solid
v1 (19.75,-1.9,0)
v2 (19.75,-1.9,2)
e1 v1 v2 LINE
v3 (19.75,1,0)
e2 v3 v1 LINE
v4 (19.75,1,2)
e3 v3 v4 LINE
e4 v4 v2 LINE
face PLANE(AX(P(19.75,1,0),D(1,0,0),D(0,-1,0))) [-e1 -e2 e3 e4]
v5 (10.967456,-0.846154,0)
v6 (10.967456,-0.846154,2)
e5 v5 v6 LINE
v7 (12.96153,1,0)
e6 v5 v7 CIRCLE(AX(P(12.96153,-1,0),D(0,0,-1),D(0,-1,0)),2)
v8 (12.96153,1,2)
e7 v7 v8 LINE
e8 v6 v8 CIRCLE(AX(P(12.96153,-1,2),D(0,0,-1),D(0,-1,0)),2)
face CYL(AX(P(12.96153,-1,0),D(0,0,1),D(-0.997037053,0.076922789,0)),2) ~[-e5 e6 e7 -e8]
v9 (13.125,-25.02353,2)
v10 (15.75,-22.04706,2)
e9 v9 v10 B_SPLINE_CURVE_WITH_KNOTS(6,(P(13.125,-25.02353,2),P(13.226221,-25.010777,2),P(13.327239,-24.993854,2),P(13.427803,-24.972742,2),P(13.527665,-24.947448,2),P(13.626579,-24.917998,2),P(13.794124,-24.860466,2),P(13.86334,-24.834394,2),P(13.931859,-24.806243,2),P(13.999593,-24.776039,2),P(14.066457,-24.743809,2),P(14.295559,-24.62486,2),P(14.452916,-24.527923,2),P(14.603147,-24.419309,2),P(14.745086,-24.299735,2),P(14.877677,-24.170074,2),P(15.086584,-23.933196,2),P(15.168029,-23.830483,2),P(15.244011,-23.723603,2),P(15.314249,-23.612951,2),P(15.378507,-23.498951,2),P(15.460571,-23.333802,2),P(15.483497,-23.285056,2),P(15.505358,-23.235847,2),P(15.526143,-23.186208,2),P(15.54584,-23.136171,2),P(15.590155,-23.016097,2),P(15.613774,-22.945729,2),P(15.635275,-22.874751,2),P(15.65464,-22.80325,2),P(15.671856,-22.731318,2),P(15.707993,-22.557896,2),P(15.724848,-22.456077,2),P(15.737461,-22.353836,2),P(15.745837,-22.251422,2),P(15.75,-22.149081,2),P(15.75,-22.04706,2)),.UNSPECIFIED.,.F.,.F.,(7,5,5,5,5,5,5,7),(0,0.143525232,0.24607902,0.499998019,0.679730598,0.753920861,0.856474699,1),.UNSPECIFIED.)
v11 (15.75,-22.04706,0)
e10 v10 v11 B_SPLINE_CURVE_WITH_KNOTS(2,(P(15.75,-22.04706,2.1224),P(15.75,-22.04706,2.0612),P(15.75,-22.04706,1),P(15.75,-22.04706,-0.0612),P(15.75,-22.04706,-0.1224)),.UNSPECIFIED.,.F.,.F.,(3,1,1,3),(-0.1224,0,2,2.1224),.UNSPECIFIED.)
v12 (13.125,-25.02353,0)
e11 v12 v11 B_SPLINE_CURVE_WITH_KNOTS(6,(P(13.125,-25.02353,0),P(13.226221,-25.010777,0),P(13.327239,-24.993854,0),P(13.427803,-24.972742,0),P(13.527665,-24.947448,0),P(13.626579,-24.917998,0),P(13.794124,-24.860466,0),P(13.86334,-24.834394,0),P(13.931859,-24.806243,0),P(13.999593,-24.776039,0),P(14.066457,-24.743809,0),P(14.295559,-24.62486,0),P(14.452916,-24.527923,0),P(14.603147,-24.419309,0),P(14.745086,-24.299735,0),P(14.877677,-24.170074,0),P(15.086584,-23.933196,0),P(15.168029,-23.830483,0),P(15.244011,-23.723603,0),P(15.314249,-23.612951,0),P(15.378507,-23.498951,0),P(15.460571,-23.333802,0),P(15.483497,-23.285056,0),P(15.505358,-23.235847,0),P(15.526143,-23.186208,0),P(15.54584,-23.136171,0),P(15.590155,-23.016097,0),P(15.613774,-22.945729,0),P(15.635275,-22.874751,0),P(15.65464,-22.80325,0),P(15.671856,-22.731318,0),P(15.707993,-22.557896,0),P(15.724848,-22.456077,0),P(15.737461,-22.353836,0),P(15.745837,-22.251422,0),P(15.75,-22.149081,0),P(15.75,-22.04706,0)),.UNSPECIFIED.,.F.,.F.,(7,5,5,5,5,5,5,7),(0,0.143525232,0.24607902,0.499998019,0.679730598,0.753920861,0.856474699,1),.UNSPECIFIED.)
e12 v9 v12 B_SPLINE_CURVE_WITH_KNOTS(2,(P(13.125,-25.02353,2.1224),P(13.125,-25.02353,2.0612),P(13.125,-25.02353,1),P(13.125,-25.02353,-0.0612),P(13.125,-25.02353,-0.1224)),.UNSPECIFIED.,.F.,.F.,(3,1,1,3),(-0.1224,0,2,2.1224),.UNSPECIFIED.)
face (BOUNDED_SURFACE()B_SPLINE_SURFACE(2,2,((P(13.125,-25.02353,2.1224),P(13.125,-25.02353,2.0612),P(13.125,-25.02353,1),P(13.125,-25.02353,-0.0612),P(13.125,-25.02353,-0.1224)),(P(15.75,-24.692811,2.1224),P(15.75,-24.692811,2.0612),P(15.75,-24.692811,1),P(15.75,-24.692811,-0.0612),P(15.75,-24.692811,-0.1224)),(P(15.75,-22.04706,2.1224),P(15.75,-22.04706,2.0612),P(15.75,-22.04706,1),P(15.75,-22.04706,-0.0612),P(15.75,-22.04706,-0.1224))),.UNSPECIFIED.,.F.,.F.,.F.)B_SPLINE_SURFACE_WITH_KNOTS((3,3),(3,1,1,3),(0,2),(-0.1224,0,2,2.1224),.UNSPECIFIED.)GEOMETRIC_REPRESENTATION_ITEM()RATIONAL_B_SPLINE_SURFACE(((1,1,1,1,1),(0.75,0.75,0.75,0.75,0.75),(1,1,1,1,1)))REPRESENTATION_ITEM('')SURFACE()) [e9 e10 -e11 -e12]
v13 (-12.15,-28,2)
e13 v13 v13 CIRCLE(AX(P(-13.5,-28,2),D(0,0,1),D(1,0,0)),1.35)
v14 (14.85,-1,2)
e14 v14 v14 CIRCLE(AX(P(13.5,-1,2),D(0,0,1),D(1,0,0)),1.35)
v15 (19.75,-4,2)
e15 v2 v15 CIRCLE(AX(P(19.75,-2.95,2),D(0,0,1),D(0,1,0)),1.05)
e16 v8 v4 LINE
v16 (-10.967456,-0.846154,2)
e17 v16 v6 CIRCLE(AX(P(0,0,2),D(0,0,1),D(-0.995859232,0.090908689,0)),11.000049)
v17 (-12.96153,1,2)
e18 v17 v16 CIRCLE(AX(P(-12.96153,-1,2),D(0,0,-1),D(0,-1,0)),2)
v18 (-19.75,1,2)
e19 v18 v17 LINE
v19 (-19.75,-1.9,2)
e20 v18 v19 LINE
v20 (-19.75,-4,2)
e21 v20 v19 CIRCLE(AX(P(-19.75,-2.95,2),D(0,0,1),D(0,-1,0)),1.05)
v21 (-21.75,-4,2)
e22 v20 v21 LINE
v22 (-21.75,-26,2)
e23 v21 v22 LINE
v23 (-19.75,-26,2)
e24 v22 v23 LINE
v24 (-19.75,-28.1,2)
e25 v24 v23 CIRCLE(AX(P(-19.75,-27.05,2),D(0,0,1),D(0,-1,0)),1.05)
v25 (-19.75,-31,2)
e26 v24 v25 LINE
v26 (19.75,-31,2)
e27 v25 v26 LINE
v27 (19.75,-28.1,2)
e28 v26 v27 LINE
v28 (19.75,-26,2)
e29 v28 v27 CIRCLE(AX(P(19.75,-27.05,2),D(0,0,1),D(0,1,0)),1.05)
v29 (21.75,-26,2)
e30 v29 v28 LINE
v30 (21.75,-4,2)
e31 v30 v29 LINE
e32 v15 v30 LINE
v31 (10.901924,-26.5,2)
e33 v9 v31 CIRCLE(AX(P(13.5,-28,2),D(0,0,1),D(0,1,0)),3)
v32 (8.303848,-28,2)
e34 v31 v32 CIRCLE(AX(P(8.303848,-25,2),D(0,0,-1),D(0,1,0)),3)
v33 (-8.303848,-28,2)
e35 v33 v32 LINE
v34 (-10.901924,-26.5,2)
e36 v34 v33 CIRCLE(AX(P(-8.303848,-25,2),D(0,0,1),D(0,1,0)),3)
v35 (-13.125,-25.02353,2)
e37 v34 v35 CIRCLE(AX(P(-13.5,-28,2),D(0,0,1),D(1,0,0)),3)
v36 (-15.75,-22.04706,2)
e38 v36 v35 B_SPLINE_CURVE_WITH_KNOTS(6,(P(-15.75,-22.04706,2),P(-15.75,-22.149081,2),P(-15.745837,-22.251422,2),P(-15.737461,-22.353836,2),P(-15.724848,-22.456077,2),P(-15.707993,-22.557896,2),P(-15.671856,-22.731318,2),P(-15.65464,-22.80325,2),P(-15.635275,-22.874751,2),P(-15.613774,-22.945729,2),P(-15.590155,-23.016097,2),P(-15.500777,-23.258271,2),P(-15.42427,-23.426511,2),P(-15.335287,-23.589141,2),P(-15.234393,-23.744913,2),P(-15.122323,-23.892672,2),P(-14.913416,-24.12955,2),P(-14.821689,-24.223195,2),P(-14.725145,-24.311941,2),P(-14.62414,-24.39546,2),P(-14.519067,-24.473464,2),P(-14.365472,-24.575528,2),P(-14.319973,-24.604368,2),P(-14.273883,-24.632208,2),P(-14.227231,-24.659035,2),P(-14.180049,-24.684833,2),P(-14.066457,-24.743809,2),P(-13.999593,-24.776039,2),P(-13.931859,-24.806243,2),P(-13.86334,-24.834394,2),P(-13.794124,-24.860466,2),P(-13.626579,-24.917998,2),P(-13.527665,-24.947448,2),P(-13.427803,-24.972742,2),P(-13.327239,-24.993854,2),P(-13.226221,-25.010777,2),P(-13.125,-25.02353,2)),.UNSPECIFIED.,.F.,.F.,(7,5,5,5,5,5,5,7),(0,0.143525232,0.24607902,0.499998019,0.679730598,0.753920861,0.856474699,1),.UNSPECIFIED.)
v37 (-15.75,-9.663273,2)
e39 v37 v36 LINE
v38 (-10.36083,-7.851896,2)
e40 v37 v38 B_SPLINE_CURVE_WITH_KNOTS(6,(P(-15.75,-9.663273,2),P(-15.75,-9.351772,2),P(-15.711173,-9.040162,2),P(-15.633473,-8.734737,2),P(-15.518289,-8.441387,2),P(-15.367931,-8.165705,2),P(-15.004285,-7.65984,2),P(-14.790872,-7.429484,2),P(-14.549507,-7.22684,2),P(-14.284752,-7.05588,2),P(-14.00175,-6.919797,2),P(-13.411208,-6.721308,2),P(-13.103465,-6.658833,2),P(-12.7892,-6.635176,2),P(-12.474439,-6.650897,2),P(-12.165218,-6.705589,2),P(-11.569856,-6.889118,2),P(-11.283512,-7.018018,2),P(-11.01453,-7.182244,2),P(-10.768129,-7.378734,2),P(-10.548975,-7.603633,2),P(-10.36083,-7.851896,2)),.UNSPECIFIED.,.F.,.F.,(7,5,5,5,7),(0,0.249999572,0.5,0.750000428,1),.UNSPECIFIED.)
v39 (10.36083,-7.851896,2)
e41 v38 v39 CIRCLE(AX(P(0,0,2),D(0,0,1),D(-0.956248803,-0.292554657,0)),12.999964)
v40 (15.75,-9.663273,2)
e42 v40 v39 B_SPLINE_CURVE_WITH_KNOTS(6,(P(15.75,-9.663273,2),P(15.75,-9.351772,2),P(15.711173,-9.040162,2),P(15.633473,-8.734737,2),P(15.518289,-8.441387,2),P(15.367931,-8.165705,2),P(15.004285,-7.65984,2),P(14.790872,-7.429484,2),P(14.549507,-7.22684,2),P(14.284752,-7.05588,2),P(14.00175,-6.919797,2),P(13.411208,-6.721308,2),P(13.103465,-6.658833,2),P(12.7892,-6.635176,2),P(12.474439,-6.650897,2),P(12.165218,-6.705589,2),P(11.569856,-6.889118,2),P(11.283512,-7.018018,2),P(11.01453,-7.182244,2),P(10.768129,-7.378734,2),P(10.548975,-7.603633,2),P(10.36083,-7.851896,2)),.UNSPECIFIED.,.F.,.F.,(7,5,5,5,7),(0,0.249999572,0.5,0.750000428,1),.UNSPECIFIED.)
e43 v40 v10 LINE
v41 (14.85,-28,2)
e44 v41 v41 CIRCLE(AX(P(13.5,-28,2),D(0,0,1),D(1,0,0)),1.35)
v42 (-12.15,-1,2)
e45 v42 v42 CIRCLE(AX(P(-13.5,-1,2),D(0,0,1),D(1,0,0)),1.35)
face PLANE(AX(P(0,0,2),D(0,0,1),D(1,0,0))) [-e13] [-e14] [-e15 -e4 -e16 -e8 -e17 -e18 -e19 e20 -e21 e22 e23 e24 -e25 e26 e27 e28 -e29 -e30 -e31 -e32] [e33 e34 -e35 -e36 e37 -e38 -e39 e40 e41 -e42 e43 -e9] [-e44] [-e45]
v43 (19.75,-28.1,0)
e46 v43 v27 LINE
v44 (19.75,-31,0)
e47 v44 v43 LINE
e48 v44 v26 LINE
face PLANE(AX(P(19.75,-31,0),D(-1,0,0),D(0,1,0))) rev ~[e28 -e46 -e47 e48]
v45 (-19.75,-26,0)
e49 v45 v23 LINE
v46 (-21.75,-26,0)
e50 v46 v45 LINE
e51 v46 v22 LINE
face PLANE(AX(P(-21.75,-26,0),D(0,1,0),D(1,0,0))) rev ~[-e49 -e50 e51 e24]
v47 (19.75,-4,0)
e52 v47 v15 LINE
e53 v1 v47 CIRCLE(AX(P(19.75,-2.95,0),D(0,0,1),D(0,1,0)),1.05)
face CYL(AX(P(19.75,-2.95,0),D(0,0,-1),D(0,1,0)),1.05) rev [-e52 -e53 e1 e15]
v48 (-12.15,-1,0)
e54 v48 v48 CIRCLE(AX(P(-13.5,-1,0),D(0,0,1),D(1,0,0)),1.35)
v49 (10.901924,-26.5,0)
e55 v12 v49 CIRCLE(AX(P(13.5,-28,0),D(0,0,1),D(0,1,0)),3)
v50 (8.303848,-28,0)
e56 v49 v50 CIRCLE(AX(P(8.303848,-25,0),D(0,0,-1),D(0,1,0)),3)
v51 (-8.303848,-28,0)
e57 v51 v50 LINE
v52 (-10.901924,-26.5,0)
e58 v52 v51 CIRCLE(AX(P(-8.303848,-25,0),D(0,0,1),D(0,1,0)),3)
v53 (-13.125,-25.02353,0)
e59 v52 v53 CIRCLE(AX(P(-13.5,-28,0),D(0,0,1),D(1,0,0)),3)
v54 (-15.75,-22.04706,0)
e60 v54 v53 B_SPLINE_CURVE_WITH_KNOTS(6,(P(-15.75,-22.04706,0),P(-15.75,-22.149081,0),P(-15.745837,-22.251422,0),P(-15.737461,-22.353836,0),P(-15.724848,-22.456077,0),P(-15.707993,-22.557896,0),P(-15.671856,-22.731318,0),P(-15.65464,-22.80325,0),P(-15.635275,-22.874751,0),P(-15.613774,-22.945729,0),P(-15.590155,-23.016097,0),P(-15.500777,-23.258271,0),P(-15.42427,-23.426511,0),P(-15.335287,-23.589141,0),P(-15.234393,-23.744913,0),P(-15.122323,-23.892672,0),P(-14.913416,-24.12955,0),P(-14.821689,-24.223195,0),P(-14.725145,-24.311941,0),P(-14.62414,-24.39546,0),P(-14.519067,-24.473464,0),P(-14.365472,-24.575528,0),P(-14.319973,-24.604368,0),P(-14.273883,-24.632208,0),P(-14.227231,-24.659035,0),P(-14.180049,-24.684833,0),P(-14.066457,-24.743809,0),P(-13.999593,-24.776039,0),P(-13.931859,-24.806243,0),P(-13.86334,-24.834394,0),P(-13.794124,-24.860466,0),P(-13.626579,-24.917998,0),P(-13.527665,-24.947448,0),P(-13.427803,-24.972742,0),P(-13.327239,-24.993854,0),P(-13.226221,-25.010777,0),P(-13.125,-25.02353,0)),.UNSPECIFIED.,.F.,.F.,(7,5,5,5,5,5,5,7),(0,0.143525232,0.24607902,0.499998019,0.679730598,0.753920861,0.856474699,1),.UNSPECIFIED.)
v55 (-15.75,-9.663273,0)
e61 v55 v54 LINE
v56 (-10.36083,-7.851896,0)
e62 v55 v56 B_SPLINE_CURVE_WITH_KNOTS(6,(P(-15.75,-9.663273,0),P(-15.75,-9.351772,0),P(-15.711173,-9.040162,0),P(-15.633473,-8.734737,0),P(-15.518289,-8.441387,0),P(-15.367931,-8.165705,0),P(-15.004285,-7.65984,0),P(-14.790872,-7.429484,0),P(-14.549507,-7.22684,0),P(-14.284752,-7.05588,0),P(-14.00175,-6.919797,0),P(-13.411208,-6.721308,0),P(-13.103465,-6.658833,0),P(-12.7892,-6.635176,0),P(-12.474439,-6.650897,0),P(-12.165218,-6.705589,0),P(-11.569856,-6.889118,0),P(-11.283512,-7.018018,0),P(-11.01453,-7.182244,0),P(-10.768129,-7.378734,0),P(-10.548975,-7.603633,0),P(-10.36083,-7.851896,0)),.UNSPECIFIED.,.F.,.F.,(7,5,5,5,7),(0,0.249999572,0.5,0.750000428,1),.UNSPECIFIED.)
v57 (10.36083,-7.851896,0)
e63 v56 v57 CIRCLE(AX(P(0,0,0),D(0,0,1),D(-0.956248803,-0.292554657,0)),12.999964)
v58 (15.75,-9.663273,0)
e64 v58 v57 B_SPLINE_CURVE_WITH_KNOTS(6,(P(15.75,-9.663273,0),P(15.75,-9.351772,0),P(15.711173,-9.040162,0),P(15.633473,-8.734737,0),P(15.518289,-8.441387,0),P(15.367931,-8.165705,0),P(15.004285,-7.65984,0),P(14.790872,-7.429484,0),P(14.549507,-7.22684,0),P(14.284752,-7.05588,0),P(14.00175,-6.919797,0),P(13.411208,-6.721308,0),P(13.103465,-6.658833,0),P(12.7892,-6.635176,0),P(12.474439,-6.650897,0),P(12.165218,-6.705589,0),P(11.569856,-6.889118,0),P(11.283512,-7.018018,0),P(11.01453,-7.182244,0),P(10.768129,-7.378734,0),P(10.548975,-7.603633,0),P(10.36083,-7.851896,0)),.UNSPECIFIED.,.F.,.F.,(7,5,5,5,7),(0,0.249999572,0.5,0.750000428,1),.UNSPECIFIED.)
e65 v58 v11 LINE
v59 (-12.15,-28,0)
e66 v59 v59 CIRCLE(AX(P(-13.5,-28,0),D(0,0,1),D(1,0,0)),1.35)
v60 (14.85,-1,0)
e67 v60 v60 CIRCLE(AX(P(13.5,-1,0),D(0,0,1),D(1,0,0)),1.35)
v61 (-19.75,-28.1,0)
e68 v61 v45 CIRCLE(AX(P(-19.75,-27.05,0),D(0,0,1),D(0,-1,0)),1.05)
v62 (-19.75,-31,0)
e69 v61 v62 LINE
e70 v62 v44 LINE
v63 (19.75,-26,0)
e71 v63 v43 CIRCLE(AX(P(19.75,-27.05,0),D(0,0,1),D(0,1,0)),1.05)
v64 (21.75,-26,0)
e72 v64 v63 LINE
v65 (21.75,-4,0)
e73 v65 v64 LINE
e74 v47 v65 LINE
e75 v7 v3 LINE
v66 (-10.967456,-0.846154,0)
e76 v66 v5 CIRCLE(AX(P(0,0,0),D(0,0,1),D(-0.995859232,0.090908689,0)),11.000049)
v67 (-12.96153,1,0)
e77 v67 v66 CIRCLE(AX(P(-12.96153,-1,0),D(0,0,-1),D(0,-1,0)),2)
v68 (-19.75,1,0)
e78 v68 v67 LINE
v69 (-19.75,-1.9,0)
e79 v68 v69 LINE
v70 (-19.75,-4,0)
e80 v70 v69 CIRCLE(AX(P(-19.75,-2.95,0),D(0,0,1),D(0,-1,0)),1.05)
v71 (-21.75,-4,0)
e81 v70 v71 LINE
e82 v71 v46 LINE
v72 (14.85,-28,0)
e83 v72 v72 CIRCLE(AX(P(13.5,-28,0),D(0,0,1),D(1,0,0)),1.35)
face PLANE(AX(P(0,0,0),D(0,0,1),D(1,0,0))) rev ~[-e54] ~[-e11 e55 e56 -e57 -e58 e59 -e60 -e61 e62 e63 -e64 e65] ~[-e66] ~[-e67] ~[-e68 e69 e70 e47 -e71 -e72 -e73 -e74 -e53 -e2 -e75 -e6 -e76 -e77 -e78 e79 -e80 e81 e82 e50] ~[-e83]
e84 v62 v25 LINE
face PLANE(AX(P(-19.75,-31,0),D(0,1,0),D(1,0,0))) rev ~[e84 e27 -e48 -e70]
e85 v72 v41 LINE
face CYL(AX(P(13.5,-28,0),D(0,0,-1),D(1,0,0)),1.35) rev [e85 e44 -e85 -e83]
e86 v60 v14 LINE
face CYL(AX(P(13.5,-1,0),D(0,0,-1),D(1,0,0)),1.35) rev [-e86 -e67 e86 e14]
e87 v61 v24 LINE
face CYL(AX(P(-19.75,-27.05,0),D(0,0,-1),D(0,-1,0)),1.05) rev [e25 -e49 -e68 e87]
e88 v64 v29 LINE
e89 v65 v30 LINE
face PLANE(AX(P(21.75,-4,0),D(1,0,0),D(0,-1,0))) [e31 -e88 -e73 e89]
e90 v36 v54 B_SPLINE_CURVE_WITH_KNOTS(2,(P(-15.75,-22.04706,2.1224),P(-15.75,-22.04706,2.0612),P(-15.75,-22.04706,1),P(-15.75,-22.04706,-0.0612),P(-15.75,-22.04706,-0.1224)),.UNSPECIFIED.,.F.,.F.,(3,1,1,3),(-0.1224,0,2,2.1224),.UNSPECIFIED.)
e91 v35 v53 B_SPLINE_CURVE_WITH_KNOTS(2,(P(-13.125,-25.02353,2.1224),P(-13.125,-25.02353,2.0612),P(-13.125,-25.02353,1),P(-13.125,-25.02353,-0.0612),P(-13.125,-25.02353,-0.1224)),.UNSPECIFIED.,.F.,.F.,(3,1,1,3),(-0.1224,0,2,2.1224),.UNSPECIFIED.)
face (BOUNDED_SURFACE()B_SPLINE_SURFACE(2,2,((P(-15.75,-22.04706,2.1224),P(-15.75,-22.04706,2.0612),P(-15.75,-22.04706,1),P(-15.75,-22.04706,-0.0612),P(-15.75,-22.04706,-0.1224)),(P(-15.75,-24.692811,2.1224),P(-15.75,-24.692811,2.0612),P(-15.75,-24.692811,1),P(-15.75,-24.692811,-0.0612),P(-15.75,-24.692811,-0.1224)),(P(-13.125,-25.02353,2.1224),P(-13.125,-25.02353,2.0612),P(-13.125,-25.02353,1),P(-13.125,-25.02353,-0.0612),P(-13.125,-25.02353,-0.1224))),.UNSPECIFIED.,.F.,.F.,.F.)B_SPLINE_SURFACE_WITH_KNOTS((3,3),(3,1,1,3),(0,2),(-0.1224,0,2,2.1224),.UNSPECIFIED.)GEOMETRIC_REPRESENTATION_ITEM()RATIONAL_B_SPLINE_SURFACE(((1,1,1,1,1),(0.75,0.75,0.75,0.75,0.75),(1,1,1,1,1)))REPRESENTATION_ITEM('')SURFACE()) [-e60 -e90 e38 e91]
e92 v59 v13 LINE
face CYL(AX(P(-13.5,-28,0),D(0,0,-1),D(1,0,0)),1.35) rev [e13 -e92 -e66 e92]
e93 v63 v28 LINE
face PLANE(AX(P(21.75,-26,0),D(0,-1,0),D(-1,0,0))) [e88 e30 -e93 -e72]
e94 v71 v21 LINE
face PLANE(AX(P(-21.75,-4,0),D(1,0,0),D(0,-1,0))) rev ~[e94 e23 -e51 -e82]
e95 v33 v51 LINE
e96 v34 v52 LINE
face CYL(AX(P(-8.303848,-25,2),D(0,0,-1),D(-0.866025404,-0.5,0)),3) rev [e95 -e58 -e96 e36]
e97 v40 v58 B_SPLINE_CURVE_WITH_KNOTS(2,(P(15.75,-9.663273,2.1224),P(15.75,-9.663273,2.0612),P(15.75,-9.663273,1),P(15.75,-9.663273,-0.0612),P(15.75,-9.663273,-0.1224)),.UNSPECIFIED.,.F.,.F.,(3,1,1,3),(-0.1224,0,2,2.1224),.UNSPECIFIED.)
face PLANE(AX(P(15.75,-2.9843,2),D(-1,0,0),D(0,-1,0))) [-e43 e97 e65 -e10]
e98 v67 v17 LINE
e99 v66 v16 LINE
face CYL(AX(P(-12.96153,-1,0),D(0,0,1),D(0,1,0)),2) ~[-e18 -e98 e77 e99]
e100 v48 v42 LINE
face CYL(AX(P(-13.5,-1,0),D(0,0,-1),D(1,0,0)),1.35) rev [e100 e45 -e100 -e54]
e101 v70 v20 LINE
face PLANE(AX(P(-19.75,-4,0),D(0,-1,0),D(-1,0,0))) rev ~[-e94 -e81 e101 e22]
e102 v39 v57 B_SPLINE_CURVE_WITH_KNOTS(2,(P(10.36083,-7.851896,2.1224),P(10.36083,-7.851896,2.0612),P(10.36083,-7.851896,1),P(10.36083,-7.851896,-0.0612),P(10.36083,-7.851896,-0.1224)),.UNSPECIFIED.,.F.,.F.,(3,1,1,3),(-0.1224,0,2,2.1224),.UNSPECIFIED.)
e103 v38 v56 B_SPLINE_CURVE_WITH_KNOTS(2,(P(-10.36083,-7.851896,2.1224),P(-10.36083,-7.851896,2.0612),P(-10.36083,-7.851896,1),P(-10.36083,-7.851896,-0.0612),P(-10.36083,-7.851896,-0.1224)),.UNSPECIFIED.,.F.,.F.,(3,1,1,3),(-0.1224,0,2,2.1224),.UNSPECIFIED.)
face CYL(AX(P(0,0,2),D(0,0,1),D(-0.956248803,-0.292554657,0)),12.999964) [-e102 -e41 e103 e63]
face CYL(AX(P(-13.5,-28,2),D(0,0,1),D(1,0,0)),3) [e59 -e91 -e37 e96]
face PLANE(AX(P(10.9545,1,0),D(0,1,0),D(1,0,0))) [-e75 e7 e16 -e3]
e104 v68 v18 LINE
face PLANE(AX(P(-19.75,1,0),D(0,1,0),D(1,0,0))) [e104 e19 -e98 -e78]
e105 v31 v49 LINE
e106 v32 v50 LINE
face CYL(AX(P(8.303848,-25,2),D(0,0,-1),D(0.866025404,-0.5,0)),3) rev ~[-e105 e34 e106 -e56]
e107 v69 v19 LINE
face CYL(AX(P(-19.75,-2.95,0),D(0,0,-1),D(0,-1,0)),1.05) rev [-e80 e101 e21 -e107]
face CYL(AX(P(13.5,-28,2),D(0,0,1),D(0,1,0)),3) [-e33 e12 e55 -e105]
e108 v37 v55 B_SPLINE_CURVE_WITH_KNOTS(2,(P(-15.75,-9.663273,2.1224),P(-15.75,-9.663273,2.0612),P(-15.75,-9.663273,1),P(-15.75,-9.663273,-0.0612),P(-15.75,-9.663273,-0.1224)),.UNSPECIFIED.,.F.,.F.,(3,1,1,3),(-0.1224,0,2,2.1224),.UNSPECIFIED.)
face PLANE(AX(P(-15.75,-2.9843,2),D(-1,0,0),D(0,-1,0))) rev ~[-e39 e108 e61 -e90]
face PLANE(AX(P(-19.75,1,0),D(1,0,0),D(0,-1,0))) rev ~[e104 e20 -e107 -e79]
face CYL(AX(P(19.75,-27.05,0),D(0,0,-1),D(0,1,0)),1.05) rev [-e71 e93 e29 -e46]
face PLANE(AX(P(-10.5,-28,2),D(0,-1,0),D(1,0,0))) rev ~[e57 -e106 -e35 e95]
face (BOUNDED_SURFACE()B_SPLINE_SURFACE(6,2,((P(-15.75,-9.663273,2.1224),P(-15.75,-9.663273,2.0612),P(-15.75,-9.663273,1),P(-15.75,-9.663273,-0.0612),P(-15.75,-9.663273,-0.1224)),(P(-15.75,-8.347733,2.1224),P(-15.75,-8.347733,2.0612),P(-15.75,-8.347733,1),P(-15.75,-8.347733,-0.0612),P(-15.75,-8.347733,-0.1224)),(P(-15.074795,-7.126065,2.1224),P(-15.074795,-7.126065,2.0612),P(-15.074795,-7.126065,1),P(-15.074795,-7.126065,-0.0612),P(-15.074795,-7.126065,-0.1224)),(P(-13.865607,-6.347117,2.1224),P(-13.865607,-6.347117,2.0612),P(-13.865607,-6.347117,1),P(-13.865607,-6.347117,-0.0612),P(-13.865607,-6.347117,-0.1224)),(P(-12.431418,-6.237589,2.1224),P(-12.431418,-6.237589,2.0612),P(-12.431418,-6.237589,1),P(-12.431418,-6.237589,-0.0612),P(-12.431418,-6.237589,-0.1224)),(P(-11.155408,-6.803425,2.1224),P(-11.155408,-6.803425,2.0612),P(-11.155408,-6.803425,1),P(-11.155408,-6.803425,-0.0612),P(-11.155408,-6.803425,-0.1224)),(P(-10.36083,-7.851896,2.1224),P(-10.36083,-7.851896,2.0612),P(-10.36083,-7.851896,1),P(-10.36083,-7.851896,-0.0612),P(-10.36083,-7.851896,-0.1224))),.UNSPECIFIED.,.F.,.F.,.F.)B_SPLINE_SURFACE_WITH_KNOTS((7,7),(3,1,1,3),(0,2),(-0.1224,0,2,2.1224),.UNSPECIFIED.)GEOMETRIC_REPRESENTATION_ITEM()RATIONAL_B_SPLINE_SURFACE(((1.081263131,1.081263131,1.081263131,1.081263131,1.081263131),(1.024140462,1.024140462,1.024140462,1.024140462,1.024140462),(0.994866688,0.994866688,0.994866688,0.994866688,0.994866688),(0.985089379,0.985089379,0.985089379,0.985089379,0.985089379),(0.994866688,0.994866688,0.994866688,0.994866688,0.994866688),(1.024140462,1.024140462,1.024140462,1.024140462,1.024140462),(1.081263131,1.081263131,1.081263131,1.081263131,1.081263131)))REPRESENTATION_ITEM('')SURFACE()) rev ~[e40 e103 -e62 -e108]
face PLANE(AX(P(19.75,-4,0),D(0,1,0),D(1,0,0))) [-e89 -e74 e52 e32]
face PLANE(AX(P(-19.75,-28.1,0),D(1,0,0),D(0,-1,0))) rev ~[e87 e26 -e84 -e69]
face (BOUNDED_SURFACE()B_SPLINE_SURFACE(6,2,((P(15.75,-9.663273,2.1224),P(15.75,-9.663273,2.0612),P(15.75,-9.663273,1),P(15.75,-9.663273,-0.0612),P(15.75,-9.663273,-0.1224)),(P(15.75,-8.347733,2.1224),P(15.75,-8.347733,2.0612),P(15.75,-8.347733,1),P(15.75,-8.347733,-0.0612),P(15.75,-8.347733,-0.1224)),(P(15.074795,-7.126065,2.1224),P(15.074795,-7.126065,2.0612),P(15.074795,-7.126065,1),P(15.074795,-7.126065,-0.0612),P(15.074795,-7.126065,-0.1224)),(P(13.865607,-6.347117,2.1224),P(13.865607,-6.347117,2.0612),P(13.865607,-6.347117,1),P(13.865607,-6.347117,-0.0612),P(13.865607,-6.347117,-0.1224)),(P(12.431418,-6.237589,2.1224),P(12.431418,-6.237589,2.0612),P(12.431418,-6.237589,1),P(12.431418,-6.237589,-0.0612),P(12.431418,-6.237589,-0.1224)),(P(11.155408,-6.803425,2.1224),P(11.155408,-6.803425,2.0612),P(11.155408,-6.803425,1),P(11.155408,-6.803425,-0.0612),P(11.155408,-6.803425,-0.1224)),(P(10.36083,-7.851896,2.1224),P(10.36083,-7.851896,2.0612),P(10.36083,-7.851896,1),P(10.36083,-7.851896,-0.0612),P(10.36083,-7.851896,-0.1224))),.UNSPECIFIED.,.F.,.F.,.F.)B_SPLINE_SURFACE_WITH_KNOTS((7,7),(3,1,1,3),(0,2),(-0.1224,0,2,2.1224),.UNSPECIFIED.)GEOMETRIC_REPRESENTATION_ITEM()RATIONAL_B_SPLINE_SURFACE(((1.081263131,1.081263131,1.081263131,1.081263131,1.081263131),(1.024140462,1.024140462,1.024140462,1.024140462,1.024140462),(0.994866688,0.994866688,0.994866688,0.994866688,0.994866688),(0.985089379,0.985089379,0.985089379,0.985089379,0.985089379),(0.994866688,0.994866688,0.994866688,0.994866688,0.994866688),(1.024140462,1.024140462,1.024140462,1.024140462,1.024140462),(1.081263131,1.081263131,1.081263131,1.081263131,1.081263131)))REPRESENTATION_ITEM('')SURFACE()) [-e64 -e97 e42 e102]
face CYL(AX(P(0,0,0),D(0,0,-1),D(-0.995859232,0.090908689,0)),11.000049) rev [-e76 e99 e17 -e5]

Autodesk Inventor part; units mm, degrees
ref_plane "YZ Plane" through (0, 0, 0) normal (1, 0, 0) x (0, 1, 0)
ref_plane "XZ Plane" through (0, 0, 0) normal (0, 1, 0) x (-1, 0, 0)
ref_plane "XY Plane" through (0, 0, 0) normal (0, 0, 1) x (1, 0, 0)
sketch "スケッチ1" plane through (0, 0, 0) normal (0, 0, 1) x (1, 0, 0)
  circle A0 centre (0, 0) radius 10.5 construction
  line L0 (-13.5, -1) -> (13.5, -1) construction
  line L1 (13.5, -1) -> (13.5, -28) construction
  line L2 (13.5, -28) -> (-13.5, -28) construction
  line L3 (-13.5, -28) -> (-13.5, -1) construction
  circle A1 centre (-13.5, -1) radius 1.35
  circle A2 centre (13.5, -1) radius 1.35
  circle A3 centre (-13.5, -28) radius 1.35
  circle A4 centre (13.5, -28) radius 1.35
  line L4 (-19.75, 1) -> (-19.75, -1.9)
  line L5 (-19.75, -4) -> (-21.75, -4)
  line L6 (-21.75, -4) -> (-21.75, -26)
  line L7 (-21.75, -26) -> (-19.75, -26)
  line L8 (-19.75, -28.1) -> (-19.75, -31)
  line L9 (-19.75, -31) -> (19.75, -31)
  line L10 (19.75, -31) -> (19.75, -28.1)
  line L11 (19.75, -4) -> (21.75, -4)
  line L12 (21.75, -4) -> (21.75, -26)
  line L13 (21.75, -26) -> (19.75, -26)
  line L14 (0, 0) -> (0, -28) construction
  line L15 (-21.75, -15) -> (21.75, -15) construction
  arc A5 (-19.75, -4) -> (-19.75, -1.9) centre (-19.75, -2.95) ccw
  line L16 (-19.75, 1) -> (-10.9545, 1)
  circle A6 centre (-13.5, -1) radius 2 construction
  arc A7 (-19.75, -28.1) -> (-19.75, -26) centre (-19.75, -27.05) ccw
  arc A8 (19.75, -26) -> (19.75, -28.1) centre (19.75, -27.05) ccw
  line L17 (10.9545, 1) -> (19.75, 1)
  line L18 (19.75, 1) -> (19.75, -1.9)
  arc A9 (19.75, -1.9) -> (19.75, -4) centre (19.75, -2.95) ccw
  arc A10 (-10.9545, 1) -> (10.9545, 1) centre (0, 0) ccw
  point P0 (0, -1)
  dimension "d0" = 21
  dimension "d1" = 1
  dimension "d2" = 27
  dimension "d3" = 2.7
  dimension "d6" = 27
  dimension "d9" = 27
  dimension "d12" = 15
  dimension "d27" = 22
  dimension "d35" = 2
  dimension "d37" = 1.05
  dimension "d41" = 5
  dimension "d42" = 4
  dimension "d43" = 0.5
  dimension "d44" = 39.5
extrude "押し出し1" add sketch "スケッチ1" along normal blind 2
sketch "スケッチ2" plane through (0, 0, 2) normal (0, 0, 1) x (1, 0, 0)
  circle A0 centre (13.5, -28) radius 1.35 projected
  circle A1 centre (-13.5, -28) radius 1.35 projected
  circle A2 centre (13.5, -1) radius 1.35 projected
  circle A3 centre (-13.5, -1) radius 1.35 projected
  line L0 (-19.75, 1) -> (-19.75, -1.9) projected
  line L1 (-19.75, -31) -> (19.75, -31) projected
  arc A4 (-10.9545, 1) -> (10.9545, 1) centre (0, 0) ccw projected
  line L2 (-15.75, -2.9843) -> (-15.75, -25)
  line L3 (-15.75, -25) -> (-13.5, -25)
  arc A5 (-10.5, -28) -> (-13.5, -25) centre (-13.5, -28) ccw
  arc A6 (-15.75, -2.9843) -> (-12.4312, -3.8032) centre (-13.5, -1) ccw
  arc A7 (-12.4312, -3.8032) -> (12.4312, -3.8032) centre (0, 0) ccw
  arc A8 (12.4312, -3.8032) -> (15.75, -2.9843) centre (13.5, -1) ccw
  line L4 (15.75, -2.9843) -> (15.75, -25)
  line L5 (15.75, -25) -> (13.5, -25)
  arc A9 (13.5, -25) -> (10.5, -28) centre (13.5, -28) ccw
  line L6 (-10.5, -28) -> (10.5, -28)
  line L7 (0, 0) -> (0, -31) construction
  dimension "d47" = 3
  dimension "d48" = 4
  dimension "d49" = 2
  dimension "d50" = 3
extrude "押し出し2" cut sketch "スケッチ2" against normal blind 10 contours A6 A7 A8 L4 L5 A9 L6 A5 L3 L2
fillet "フィレット1" radius 3 8 edges at (-15.75, -2.9843, 1) (-12.4312, -3.8032, 1) (15.75, -2.9843, 1) (12.4312, -3.8032, 1) (-15.75, -25, 1) (-10.5, -28, 1) (15.75, -25, 1) (10.5, -28, 1)
fillet "フィレット1" radius 2 2 edges at (-10.9545, 1, 1) (10.9545, 1, 1)
equation "\"d6\" = d2"
equation "\"d9\" = d2"
equation "\"d12\" = d20"
equation "\"d27\" = d17"
equation "\"d41\" = d18"
equation "\"d17\" = 22"
equation "\"d18\" = 5"
equation "\"d20\" = 15"
properties part number "付け根_サブフレーム_1_1" material "アルミニウム 2014-T4"
